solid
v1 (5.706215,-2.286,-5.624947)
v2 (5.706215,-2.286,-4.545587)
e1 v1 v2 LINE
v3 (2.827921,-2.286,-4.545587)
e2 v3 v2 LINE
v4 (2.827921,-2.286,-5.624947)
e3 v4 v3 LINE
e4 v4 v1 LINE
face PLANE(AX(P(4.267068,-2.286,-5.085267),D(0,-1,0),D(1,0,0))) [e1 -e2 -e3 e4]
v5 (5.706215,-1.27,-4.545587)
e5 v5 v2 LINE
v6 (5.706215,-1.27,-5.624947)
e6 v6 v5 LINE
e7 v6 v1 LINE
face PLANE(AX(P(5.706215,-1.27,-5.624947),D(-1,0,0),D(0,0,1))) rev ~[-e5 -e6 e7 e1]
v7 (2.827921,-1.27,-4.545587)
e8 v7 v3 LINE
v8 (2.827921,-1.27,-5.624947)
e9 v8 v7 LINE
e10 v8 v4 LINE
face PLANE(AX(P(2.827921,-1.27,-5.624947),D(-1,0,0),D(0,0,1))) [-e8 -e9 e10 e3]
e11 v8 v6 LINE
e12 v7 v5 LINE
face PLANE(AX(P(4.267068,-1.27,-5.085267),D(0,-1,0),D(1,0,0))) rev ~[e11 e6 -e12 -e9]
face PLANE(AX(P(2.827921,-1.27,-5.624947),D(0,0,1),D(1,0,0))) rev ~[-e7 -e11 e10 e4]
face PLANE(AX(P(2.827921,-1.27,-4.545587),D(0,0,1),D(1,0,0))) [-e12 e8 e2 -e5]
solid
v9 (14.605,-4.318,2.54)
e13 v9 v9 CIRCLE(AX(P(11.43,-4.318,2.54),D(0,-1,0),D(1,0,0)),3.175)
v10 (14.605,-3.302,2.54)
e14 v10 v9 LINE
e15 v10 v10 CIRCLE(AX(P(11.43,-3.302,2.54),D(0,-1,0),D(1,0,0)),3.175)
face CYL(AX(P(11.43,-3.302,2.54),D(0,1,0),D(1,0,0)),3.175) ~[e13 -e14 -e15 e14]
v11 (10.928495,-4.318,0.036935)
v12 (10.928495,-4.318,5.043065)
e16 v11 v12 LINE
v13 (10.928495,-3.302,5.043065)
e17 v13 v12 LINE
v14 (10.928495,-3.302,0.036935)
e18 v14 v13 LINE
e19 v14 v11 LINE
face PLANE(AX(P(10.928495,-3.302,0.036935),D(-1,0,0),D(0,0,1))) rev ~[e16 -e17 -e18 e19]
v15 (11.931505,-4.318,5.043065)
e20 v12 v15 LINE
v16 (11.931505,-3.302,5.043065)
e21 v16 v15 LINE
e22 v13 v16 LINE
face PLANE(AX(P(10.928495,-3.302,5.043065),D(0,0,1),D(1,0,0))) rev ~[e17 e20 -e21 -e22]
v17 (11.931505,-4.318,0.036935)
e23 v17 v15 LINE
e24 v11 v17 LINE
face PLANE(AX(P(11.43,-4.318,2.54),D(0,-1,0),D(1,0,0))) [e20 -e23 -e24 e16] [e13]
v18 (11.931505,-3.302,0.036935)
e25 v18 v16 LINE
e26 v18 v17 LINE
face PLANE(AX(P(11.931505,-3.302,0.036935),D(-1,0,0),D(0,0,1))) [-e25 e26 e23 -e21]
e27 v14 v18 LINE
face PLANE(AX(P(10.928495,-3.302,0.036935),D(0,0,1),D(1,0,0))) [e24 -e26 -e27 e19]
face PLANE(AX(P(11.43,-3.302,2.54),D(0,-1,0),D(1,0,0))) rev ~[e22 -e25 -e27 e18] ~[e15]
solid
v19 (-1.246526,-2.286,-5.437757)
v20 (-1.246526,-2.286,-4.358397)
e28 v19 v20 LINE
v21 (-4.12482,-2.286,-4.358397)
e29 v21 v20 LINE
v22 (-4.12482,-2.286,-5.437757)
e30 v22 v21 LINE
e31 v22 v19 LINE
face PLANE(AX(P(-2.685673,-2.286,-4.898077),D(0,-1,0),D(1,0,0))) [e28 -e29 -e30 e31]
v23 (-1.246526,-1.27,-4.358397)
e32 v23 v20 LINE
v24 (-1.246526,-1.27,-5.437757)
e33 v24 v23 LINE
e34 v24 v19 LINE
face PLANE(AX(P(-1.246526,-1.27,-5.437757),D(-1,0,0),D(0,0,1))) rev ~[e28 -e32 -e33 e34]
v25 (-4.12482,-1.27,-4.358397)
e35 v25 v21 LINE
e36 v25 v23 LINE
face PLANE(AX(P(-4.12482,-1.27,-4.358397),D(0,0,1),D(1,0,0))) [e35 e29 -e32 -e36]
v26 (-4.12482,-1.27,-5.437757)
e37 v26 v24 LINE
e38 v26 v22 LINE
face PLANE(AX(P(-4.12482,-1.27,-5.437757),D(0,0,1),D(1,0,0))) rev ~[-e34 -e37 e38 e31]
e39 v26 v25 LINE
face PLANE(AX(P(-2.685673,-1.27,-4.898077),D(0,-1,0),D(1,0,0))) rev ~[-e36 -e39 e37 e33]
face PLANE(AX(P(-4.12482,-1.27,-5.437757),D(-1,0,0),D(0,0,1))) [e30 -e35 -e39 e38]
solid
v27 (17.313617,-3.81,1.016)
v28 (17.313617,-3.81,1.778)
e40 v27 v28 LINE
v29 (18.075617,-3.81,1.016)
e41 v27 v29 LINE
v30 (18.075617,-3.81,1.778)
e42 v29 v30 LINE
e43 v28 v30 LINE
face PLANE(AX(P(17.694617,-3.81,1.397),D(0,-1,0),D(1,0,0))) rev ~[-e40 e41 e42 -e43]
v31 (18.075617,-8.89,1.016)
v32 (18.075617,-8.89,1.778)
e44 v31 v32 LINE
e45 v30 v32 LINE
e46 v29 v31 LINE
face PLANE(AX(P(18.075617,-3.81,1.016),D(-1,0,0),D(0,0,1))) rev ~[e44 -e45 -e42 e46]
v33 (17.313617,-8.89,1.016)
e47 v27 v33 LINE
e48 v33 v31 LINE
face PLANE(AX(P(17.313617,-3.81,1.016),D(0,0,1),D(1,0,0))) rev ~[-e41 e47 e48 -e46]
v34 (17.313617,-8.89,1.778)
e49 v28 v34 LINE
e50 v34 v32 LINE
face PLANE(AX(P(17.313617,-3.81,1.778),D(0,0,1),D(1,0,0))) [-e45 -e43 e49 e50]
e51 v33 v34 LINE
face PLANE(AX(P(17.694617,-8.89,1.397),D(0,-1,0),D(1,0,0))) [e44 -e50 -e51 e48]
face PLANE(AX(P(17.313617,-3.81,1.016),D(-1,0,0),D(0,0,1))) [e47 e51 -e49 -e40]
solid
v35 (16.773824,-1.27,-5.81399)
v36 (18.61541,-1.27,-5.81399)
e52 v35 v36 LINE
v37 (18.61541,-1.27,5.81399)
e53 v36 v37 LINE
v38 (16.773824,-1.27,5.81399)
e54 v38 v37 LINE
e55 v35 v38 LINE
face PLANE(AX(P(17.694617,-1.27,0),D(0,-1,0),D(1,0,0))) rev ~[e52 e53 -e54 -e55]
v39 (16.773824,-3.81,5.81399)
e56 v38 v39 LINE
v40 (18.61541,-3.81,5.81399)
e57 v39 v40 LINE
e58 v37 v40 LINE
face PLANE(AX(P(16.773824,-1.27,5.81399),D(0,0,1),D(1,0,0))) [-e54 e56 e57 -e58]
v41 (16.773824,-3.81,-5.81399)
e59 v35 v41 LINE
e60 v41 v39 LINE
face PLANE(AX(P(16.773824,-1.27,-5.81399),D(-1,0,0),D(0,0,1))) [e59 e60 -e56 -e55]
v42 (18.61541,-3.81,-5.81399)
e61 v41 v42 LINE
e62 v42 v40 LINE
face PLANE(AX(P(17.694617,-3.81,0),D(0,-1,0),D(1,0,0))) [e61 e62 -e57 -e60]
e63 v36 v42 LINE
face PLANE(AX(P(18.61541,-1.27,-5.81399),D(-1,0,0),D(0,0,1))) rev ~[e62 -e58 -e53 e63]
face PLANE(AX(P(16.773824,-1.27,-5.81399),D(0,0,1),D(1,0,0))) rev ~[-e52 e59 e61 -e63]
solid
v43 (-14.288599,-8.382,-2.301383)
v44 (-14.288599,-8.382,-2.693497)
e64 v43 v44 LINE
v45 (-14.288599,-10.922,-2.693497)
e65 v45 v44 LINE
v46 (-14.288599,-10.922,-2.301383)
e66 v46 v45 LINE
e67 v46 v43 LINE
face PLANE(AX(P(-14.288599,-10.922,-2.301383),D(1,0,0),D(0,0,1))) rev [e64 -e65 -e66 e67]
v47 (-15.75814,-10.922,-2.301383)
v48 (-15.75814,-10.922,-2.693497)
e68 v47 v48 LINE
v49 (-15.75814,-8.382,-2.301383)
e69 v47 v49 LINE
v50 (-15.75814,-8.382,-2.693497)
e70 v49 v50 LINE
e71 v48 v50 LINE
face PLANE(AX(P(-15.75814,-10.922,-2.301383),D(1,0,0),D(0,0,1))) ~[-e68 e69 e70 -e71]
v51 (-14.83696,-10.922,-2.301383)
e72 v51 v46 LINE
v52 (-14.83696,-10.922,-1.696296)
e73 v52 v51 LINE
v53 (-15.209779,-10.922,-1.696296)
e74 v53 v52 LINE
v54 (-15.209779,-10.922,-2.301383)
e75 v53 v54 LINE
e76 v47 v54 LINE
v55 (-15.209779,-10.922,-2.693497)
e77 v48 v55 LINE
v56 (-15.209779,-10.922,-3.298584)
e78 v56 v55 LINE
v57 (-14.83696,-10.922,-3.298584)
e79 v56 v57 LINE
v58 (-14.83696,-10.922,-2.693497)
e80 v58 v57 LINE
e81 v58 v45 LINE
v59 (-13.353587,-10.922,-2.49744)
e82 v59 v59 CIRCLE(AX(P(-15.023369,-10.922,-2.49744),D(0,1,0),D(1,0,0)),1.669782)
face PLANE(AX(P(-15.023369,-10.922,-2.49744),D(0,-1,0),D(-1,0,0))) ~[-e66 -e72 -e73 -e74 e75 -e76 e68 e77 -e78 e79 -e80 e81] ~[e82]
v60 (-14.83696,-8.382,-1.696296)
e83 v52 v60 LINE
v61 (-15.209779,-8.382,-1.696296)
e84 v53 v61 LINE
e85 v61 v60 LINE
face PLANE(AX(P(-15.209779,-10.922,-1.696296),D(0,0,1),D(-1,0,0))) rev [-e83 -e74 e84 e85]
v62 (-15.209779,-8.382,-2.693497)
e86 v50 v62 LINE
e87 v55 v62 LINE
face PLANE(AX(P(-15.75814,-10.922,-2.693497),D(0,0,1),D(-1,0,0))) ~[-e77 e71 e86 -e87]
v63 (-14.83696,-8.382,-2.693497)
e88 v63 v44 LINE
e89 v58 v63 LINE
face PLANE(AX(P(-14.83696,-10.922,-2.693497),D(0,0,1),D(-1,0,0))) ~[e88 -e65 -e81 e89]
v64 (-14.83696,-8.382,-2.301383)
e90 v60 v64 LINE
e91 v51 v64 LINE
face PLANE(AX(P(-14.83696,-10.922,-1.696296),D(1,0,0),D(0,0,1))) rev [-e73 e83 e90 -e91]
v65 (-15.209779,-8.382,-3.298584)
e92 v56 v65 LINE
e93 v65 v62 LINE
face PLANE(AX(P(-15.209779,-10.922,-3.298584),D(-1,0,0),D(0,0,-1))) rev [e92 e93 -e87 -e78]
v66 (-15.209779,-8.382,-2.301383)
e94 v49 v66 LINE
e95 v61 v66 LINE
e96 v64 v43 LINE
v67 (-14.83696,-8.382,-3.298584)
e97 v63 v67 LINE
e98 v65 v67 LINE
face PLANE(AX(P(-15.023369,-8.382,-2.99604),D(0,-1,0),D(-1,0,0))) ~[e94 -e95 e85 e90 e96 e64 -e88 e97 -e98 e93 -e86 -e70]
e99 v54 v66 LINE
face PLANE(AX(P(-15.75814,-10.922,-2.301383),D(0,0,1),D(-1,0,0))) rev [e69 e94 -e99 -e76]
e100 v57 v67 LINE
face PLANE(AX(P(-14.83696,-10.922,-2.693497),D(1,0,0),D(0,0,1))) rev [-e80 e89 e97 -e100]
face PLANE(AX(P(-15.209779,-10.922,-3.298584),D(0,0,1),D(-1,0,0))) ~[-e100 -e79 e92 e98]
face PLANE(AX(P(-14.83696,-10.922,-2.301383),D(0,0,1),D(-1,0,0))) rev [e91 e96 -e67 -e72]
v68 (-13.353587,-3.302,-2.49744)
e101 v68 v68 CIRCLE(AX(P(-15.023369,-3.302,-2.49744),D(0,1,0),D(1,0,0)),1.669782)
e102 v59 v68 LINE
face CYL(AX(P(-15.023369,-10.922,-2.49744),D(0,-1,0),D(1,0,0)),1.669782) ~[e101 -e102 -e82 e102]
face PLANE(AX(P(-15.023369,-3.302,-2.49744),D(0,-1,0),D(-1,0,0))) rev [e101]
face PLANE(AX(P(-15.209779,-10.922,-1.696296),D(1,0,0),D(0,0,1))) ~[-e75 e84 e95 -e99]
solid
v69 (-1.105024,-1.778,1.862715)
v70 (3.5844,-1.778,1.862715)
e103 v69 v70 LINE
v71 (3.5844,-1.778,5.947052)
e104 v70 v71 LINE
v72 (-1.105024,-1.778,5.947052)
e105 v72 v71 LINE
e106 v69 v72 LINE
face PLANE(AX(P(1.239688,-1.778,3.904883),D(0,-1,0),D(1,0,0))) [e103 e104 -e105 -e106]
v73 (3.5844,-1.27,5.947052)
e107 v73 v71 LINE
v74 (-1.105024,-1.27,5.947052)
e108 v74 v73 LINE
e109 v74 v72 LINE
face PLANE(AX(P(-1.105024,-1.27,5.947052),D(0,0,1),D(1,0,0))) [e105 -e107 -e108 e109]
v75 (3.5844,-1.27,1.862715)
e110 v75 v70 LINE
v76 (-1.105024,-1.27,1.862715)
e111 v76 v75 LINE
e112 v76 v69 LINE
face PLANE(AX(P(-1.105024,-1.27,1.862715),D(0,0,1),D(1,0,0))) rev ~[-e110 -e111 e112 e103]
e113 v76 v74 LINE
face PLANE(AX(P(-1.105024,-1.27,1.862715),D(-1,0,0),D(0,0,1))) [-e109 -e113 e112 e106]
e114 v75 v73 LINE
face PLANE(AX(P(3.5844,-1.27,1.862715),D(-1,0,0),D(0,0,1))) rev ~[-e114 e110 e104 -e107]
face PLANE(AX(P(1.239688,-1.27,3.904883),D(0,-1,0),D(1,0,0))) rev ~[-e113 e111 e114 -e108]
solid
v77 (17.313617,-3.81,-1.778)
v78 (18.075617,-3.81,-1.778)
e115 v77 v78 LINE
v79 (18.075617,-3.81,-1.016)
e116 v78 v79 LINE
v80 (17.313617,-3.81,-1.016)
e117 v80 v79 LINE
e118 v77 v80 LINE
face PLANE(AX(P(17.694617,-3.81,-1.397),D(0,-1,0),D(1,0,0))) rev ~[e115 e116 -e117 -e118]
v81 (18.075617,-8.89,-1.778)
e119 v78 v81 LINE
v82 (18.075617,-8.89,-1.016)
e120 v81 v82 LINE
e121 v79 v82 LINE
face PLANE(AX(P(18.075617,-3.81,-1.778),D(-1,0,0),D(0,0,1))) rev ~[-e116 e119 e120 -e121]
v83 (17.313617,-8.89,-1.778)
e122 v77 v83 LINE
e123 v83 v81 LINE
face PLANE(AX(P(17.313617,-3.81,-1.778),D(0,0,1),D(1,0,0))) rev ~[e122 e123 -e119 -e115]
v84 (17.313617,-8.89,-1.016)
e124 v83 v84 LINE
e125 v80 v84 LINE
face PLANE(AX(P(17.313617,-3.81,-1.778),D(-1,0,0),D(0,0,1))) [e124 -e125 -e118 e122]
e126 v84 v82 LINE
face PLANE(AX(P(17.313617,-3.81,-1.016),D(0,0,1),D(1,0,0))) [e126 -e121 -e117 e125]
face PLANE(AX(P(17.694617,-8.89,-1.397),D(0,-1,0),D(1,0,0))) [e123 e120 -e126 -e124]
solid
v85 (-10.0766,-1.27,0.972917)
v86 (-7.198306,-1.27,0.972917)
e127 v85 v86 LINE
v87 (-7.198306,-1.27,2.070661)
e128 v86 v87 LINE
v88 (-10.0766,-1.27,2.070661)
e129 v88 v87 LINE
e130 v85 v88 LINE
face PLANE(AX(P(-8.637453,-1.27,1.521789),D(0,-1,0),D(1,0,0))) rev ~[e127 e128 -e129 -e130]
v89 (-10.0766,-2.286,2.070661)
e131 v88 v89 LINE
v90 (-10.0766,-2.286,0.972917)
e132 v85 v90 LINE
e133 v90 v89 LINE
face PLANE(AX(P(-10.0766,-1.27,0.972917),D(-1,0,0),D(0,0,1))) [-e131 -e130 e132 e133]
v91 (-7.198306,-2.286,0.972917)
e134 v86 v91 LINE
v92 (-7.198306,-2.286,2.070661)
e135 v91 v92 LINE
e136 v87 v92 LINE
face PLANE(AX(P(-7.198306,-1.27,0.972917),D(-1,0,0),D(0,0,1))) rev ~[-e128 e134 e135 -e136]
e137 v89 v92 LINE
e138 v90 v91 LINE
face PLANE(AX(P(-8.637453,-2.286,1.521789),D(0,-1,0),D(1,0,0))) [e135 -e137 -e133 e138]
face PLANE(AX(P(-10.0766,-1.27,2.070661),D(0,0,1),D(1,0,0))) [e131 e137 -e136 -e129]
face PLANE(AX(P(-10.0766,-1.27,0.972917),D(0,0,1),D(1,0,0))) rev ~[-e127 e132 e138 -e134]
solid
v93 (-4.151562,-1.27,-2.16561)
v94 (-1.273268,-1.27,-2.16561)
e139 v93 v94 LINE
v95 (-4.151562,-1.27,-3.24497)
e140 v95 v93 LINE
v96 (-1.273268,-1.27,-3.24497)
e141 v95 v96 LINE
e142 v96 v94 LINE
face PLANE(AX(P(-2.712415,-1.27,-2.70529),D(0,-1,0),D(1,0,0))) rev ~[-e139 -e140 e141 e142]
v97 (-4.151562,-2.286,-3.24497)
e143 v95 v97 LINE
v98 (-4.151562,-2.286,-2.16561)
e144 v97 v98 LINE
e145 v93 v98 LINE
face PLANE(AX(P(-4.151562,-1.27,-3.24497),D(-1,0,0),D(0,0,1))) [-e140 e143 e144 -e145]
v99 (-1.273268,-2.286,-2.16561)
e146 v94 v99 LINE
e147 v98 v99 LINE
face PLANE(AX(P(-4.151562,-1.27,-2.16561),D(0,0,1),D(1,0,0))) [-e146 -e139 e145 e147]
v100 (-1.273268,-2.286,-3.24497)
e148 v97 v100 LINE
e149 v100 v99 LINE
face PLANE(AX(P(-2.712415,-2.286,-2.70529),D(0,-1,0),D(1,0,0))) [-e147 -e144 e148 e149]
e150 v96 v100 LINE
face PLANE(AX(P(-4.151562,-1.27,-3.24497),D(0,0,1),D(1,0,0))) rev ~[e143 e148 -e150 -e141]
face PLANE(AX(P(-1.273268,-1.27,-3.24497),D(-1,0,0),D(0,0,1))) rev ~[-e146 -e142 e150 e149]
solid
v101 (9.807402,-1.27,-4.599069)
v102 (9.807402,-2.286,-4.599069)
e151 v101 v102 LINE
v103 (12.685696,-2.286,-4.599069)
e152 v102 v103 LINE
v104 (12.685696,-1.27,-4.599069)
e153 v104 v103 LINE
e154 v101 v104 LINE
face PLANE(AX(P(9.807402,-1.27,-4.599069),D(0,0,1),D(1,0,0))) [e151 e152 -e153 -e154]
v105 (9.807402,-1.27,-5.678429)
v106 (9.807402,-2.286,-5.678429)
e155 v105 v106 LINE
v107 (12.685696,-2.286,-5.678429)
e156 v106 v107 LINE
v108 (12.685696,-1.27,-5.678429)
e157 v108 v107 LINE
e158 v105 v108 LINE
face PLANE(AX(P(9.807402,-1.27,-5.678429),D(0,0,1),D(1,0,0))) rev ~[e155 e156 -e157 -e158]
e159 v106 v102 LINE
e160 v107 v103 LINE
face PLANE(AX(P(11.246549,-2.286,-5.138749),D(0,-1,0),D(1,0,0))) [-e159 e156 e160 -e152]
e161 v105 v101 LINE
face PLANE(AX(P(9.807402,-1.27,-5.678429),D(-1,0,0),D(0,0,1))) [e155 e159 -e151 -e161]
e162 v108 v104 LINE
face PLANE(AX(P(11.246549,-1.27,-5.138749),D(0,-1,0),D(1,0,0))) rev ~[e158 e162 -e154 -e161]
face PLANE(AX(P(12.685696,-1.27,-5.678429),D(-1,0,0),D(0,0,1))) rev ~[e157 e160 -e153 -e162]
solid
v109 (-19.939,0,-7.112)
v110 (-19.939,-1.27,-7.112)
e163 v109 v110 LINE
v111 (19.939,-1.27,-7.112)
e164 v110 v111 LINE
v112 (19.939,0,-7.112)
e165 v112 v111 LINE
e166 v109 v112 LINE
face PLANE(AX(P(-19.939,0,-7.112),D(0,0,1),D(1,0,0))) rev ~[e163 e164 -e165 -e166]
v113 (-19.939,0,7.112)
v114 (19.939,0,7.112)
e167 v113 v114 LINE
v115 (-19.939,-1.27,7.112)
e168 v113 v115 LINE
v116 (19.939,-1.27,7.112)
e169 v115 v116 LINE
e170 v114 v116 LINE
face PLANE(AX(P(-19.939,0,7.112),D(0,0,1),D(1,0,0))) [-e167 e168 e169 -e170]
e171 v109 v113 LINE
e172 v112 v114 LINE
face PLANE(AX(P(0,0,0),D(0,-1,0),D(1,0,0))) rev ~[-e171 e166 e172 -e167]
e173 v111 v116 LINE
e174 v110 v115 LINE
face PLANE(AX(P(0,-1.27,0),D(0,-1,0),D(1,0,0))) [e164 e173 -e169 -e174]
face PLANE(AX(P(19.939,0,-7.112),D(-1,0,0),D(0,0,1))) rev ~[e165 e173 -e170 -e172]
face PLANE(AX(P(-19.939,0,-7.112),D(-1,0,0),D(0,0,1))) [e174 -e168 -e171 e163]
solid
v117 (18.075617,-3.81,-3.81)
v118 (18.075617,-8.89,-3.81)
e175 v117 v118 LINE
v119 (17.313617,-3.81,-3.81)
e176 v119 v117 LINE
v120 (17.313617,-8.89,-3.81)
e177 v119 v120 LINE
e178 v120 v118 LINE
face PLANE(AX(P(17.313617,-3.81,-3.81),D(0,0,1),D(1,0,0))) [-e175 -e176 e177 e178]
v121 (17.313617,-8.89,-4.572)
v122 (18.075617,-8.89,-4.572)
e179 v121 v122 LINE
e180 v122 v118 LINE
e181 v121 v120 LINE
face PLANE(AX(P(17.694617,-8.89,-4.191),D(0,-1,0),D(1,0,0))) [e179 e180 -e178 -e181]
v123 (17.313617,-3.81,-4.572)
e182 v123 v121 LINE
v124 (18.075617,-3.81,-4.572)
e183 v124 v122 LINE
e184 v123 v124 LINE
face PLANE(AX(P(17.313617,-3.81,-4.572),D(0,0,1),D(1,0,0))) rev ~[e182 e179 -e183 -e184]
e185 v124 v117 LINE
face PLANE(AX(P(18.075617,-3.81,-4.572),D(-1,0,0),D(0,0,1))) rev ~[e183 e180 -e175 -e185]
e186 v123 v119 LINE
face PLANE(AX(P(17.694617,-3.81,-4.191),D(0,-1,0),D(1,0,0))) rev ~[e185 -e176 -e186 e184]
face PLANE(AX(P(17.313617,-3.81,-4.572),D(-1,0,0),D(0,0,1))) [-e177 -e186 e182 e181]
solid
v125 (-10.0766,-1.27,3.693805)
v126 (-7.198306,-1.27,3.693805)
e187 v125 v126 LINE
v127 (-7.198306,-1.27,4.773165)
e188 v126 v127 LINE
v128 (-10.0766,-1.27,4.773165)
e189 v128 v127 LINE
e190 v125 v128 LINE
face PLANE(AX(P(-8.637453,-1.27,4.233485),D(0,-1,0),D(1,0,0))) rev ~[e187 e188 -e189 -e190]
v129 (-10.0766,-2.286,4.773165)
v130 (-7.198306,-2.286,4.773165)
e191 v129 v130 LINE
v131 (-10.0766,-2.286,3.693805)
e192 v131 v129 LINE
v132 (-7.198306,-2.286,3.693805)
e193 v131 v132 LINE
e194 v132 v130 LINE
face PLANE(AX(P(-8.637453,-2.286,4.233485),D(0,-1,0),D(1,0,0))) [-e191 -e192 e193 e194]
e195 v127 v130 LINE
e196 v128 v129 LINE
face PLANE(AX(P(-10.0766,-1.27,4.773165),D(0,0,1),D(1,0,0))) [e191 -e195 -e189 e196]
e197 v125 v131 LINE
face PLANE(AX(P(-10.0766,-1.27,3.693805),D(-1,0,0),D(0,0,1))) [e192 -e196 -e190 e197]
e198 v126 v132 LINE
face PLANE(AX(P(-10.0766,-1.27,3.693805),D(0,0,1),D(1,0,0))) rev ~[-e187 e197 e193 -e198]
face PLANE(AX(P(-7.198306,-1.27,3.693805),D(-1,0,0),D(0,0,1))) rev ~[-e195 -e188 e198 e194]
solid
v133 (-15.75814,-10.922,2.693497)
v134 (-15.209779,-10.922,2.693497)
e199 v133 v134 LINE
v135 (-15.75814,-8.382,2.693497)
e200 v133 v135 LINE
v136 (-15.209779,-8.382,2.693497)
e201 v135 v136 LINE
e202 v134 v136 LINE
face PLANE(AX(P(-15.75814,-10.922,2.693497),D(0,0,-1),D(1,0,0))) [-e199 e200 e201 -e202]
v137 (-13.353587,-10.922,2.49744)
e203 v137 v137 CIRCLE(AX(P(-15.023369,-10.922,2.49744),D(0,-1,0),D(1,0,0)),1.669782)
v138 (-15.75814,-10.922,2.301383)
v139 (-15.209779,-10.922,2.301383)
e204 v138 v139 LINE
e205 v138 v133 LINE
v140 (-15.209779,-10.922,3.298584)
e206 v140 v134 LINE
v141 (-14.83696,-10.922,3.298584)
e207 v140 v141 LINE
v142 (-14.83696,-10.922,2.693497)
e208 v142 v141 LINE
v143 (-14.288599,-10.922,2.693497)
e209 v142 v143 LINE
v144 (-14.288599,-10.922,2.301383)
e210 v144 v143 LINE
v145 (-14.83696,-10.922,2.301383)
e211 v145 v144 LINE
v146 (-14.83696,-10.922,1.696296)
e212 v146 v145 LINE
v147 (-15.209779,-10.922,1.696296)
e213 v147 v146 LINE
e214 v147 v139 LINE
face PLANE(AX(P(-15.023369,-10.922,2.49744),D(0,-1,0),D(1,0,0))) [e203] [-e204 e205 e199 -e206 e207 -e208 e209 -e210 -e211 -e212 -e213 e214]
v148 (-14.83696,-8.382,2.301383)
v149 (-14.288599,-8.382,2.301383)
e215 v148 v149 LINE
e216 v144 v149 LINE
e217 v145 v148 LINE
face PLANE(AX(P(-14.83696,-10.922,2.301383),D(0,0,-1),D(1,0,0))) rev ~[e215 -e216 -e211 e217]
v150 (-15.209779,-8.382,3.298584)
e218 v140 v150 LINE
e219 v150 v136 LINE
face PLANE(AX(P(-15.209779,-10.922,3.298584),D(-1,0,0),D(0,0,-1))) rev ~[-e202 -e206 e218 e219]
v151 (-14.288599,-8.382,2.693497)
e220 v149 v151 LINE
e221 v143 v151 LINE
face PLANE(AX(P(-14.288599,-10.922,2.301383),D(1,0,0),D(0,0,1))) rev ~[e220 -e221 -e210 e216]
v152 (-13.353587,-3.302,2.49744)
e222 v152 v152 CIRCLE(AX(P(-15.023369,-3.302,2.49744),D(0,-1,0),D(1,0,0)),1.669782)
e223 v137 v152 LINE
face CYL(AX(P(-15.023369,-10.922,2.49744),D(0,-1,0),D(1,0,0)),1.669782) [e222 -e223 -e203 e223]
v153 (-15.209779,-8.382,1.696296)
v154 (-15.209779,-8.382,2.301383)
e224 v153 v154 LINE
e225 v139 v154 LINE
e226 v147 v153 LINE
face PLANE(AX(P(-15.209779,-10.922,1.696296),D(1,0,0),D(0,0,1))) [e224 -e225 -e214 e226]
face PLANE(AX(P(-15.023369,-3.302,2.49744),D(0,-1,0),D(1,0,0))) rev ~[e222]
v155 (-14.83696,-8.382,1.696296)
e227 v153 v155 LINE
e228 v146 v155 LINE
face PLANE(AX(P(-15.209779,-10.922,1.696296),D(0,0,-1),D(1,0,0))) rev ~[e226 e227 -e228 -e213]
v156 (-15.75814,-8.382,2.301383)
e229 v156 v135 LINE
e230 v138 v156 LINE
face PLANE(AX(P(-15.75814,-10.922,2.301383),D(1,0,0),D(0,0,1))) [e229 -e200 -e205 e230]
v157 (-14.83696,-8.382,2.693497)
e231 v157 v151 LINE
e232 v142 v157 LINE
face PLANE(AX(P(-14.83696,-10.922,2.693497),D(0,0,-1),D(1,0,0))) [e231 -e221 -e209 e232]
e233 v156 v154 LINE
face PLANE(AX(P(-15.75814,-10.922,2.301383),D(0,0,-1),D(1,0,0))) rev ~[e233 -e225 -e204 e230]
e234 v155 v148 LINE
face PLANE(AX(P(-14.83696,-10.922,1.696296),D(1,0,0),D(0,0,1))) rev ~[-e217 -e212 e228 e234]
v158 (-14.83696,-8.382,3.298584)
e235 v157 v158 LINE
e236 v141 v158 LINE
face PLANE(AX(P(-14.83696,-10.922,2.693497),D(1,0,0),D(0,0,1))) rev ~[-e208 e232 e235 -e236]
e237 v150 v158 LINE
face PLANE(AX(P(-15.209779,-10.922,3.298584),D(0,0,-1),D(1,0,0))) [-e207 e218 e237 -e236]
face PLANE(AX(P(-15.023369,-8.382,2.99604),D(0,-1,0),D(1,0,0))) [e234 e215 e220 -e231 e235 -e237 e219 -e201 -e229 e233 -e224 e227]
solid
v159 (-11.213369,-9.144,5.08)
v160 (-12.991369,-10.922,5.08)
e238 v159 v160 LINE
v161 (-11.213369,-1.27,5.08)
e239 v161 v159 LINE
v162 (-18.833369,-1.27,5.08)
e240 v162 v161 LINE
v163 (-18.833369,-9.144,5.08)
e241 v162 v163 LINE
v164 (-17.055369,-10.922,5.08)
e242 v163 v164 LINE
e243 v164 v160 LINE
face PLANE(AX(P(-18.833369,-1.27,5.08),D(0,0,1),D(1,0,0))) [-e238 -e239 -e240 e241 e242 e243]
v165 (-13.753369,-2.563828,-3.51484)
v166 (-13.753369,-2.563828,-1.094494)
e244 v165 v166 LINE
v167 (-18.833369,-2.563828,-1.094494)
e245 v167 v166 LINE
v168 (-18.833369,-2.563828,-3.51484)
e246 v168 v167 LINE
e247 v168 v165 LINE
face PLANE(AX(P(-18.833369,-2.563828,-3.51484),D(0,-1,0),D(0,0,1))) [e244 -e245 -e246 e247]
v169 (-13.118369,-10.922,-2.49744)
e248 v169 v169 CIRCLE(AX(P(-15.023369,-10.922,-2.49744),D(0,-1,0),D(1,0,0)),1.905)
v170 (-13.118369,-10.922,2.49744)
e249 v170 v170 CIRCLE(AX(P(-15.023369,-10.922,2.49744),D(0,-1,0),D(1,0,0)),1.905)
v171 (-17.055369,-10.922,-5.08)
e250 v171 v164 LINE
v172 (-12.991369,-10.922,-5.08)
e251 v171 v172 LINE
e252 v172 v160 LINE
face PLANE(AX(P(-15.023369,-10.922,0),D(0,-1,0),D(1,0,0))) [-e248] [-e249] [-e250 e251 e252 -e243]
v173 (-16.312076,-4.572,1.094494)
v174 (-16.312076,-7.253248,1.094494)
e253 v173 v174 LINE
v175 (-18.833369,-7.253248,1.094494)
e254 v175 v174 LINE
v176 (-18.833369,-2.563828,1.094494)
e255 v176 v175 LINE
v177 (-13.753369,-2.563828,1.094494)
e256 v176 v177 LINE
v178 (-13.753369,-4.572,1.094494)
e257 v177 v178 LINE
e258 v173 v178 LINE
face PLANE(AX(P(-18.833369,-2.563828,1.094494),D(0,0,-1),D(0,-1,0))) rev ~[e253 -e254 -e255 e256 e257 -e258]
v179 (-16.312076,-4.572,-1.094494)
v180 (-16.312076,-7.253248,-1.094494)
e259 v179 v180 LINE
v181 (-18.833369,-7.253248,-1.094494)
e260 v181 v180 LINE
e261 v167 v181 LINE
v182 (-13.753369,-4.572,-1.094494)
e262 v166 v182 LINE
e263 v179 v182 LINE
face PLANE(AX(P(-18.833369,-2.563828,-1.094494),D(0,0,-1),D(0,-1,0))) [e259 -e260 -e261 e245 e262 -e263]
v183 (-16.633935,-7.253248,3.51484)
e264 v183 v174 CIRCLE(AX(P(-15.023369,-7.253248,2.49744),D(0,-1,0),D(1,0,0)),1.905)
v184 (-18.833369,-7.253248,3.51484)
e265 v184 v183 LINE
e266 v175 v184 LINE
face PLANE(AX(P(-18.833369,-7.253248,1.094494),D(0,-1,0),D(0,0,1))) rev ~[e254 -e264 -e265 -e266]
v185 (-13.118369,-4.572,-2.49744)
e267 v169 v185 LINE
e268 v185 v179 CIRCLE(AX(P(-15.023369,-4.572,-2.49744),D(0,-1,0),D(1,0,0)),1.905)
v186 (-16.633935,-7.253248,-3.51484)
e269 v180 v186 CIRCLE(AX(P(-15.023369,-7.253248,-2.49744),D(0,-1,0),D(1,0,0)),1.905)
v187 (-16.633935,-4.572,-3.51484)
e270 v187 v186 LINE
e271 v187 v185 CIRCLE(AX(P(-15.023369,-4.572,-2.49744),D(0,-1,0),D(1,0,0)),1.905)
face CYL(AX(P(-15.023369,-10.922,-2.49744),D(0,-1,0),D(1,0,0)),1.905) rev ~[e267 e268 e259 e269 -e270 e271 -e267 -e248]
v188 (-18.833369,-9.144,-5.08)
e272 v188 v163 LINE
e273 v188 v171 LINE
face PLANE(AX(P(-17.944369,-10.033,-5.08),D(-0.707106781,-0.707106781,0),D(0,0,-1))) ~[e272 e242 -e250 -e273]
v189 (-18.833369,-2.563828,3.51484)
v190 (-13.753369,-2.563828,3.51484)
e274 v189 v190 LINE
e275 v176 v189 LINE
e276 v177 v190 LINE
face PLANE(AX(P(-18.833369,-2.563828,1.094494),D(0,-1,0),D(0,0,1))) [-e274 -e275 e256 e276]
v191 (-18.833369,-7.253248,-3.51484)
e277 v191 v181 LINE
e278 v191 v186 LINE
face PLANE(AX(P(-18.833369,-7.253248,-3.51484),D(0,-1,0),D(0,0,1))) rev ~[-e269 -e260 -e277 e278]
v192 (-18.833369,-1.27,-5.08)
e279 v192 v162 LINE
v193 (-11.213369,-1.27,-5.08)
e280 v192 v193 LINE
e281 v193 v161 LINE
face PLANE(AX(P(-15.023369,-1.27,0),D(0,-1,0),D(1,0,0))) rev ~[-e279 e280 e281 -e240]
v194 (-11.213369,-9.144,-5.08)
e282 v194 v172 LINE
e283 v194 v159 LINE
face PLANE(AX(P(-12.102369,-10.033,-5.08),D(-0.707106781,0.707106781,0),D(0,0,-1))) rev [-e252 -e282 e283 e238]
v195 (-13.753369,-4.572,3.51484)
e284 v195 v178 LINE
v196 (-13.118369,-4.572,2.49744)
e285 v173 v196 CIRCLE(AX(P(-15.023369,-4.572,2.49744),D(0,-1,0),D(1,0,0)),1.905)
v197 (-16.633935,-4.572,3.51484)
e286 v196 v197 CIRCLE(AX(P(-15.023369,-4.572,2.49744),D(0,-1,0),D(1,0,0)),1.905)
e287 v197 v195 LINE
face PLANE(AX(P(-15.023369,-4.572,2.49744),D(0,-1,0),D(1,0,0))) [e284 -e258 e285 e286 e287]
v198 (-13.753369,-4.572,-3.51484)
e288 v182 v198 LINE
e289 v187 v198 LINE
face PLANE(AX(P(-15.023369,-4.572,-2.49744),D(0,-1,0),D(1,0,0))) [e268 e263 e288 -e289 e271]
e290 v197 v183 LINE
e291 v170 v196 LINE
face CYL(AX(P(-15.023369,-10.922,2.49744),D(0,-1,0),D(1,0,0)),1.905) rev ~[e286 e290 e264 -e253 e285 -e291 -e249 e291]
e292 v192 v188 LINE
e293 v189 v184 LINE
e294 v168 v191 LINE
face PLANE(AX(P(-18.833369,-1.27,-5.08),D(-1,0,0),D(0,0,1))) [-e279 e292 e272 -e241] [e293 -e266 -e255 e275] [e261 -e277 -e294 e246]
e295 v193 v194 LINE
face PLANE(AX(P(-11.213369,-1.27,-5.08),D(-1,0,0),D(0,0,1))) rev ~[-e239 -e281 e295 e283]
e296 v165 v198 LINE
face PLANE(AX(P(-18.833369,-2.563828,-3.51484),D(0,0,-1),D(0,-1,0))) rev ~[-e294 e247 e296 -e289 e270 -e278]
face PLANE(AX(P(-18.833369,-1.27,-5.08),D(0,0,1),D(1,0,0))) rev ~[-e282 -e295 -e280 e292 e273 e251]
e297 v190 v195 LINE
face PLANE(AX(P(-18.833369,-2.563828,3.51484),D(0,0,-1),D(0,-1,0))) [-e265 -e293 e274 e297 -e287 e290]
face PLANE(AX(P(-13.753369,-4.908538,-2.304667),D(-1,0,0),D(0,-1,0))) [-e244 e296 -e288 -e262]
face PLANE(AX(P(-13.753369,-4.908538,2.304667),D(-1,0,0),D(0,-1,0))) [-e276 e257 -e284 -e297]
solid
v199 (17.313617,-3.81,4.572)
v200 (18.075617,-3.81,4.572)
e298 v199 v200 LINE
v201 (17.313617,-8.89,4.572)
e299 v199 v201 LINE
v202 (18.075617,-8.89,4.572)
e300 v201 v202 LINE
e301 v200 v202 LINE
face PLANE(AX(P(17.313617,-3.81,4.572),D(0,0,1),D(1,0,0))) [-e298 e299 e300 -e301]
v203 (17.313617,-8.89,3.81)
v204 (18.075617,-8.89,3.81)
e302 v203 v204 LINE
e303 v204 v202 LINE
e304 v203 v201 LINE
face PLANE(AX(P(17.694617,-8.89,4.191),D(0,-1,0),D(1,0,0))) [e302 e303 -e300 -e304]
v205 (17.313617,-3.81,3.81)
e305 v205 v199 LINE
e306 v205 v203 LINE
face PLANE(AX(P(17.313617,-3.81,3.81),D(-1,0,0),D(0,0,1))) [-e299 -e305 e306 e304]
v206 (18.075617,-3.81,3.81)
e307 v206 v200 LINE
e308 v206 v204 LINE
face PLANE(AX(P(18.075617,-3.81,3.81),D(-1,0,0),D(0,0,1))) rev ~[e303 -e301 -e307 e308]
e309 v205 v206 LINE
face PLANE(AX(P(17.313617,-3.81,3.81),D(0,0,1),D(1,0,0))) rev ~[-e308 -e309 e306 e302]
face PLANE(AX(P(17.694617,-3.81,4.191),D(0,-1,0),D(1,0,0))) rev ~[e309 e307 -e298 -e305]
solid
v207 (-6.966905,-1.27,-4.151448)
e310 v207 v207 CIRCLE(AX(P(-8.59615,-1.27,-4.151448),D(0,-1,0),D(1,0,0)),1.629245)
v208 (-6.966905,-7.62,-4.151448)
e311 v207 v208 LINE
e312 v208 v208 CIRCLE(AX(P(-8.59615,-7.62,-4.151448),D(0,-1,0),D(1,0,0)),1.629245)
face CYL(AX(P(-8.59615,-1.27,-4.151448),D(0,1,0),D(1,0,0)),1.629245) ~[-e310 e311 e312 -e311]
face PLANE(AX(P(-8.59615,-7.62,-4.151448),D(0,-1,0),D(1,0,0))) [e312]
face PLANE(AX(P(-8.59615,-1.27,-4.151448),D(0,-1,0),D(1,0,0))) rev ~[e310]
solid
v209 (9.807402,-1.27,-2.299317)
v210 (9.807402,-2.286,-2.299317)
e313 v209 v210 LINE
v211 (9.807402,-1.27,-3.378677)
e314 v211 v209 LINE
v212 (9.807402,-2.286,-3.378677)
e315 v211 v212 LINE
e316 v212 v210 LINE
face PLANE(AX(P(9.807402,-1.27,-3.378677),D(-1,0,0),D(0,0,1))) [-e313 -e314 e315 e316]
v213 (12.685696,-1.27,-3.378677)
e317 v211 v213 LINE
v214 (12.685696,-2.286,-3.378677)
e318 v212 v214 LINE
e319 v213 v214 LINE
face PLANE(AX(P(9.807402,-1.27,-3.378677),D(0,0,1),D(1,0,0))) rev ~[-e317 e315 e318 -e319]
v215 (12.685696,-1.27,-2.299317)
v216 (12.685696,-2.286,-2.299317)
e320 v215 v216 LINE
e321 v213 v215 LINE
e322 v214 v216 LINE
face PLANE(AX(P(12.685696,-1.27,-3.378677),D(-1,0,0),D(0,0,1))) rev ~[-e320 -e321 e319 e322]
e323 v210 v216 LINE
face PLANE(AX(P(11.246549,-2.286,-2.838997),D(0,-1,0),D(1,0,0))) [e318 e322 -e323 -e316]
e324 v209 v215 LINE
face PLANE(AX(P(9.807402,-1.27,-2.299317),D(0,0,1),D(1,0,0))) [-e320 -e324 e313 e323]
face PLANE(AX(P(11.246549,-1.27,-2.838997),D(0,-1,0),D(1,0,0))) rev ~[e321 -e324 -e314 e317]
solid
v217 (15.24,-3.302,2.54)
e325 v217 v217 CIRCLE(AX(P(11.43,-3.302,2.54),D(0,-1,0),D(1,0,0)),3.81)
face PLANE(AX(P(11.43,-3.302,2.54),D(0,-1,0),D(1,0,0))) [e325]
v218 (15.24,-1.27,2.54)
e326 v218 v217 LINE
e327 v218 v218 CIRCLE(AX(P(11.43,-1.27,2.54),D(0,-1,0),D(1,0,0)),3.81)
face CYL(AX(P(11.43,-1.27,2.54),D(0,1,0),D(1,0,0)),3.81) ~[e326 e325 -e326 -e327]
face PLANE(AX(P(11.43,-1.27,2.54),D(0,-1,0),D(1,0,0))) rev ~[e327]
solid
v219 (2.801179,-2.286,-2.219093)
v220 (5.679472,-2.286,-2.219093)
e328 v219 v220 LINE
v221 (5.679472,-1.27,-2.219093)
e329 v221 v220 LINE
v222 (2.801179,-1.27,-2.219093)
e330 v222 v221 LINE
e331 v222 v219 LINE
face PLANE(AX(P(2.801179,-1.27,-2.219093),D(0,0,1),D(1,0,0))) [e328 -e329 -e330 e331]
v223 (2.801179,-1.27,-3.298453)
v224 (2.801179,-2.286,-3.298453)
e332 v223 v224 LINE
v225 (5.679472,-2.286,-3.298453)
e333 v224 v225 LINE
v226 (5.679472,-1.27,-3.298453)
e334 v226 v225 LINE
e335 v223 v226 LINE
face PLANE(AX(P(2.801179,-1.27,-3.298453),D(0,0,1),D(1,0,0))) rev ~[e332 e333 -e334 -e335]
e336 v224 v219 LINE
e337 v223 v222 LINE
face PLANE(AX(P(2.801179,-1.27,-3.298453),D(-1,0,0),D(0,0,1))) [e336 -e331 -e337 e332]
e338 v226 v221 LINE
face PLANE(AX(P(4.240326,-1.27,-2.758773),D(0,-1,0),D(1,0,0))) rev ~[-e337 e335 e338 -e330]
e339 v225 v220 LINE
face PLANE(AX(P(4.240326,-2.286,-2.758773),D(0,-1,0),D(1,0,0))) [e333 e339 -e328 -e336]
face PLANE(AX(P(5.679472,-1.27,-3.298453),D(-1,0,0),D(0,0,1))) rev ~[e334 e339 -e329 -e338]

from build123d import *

# Parameters (mm, degrees)
F0_W      = 39.878
F0_H      = 14.224
F1_DEPTH  = 1.27
F2_W      = 7.62
F2_H      = 10.16
F3_DEPTH  = 9.652
F4_SIZE   = 1.778
F5_R      = 1.905
F6_DEPTH  = 6.35
F7_W      = 4.6894205734
F7_H      = 2.4203467183
F8_DEPTH  = 5.08
F9_R      = 1.6697821783
F10_DEPTH = 7.62
F11_W     = 0.3728192511
F11_H     = 0.6050870288
F11_W_2   = 0.5483608693
F11_H_2   = 0.3921133466
F12_DEPTH = 2.54
F14_W     = 1.8415860832
F14_H     = 11.6279795766
F15_DEPTH = 2.54
F16_W     = 0.762
F16_H     = 0.762
F17_DEPTH = 5.08
F18_R     = 1.6292454542
F19_DEPTH = 6.35
F20_W     = 4.6894233674
F20_H     = 4.0843365714
F21_DEPTH = 0.508
F22_R     = 3.81
F23_DEPTH = 2.032
F24_R     = 3.175
F24_W     = 1.0030101985
F24_H     = 5.0061298534
F25_DEPTH = 1.016
F26_W     = 2.878293395
F26_H     = 1.0793600231
F27_DEPTH = 1.016
F26_H_2   = 1.0977436526


with BuildPart() as f1:
    # F0 (on Front) → F1 (new body)
    with BuildSketch(Plane.XZ):
        Rectangle(F0_W, F0_H)
    extrude(amount=F1_DEPTH)


with BuildPart() as f3:
    # F2 (on face) → F3 (new body)
    with BuildSketch(Plane.XZ.offset(1.27)):
        with Locations((-15.0233691664, 0)):
            Rectangle(F2_W, F2_H)
    extrude(amount=F3_DEPTH)

    # F4
    f4_edges = [f3.edges().sort_by_distance(p)[0] for p in [
        (-18.833369, -10.922, 0),
        (-11.213369, -10.922, 0),
    ]]
    chamfer(f4_edges, length=F4_SIZE)

    # F5 (on face) → F6 (cut)
    with BuildSketch(Plane.XZ.offset(10.922)):
        with Locations((-15.0233691664, 2.4974399712)):
            Circle(F5_R)
        with Locations((-15.0233691664, -2.4974399712)):
            Circle(F5_R)
    extrude(amount=-F6_DEPTH, mode=Mode.SUBTRACT)

    # F7 (on face) → F8 (cut)
    with BuildSketch(Plane(origin=(-18.8333691664, 0, 0), x_dir=(0, -1, 0), z_dir=(-1, 0, 0))):
        with Locations((4.9085379578, 2.3046669085)):
            Rectangle(F7_W, F7_H)
        with Locations((4.9085379578, -2.3046669085)):
            Rectangle(F7_W, F7_H)
    extrude(amount=-F8_DEPTH, mode=Mode.SUBTRACT)


with BuildPart() as f10:
    # F9 (on face) → F10 (new body)
    with BuildSketch(Plane.XZ.offset(10.922)):
        with Locations((-15.0233691664, 2.4974399712)):
            Circle(F9_R)
    extrude(amount=-F10_DEPTH)

    # F11 (on face) → F12 (cut)
    with BuildSketch(Plane.XZ.offset(10.922)):
        with Locations((-15.0233691664, 2.9960401589)):
            Rectangle(F11_W, F11_H)
        with Locations((-14.5627791062, 2.4974399712)):
            Rectangle(F11_W_2, F11_H_2)
        with Locations((-15.0233691664, 2.4974399712)):
            Rectangle(F11_W, F11_H_2)
        with Locations((-15.4839592266, 2.4974399712)):
            Rectangle(F11_W_2, F11_H_2)
        with Locations((-15.0233691664, 1.9988397835)):
            Rectangle(F11_W, F11_H)
    extrude(amount=-F12_DEPTH, mode=Mode.SUBTRACT)


with BuildPart() as f13_1:
    # F13: instance of F10
    add(f10.part.mirror(Plane.XY))


with BuildPart() as f15:
    # F14 (on face) → F15 (new body)
    with BuildSketch(Plane.XZ.offset(1.27)):
        with Locations((17.6946166903, 0)):
            Rectangle(F14_W, F14_H)
    extrude(amount=F15_DEPTH)


with BuildPart() as f17:
    # F16 (on face) → F17 (new body)
    with BuildSketch(Plane.XZ.offset(3.81)):
        with Locations((17.6946166903, -1.397)):
            Rectangle(F16_W, F16_H)
    extrude(amount=F17_DEPTH)


with BuildPart() as f17b:
    # F16 (on face) → F17, piece 2 (new body)
    with BuildSketch(Plane.XZ.offset(3.81)):
        with Locations((17.6946166903, -4.191)):
            Rectangle(F16_W, F16_H)
    extrude(amount=F17_DEPTH)


with BuildPart() as f17c:
    # F16 (on face) → F17, piece 3 (new body)
    with BuildSketch(Plane.XZ.offset(3.81)):
        with Locations((17.6946166903, 1.397)):
            Rectangle(F16_W, F16_H)
    extrude(amount=F17_DEPTH)


with BuildPart() as f17d:
    # F16 (on face) → F17, piece 4 (new body)
    with BuildSketch(Plane.XZ.offset(3.81)):
        with Locations((17.6946166903, 4.191)):
            Rectangle(F16_W, F16_H)
    extrude(amount=F17_DEPTH)


with BuildPart() as f19:
    # F18 (on face) → F19 (new body)
    with BuildSketch(Plane.XZ.offset(1.27)):
        with Locations((-8.5961502045, -4.1514476761)):
            Circle(F18_R)
    extrude(amount=F19_DEPTH)


with BuildPart() as f21:
    # F20 (on face) → F21 (new body)
    with BuildSketch(Plane.XZ.offset(1.27)):
        with Locations((1.2396881357, 3.9048832841)):
            Rectangle(F20_W, F20_H)
    extrude(amount=F21_DEPTH)


with BuildPart() as f23:
    # F22 (on face) → F23 (new body)
    with BuildSketch(Plane.XZ.offset(1.27)):
        with Locations((11.43, 2.54)):
            Circle(F22_R)
    extrude(amount=F23_DEPTH)


with BuildPart() as f25:
    # F24 (on face) → F25 (new body)
    with BuildSketch(Plane.XZ.offset(3.302)):
        with Locations((11.43, 2.54)):
            Circle(F24_R)
        with Locations((11.43, 2.54)):
            Rectangle(F24_W, F24_H, mode=Mode.SUBTRACT)
    extrude(amount=F25_DEPTH)


with BuildPart() as f27:
    # F26 (on face) → F27 (new body)
    with BuildSketch(Plane.XZ.offset(1.27)):
        with Locations((-8.6374529637, 4.2334846221)):
            Rectangle(F26_W, F26_H)
    extrude(amount=F27_DEPTH)


with BuildPart() as f27b:
    # F26 (on face) → F27, piece 2 (new body)
    with BuildSketch(Plane.XZ.offset(1.27)):
        with Locations((-8.6374529637, 1.5217887805)):
            Rectangle(F26_W, F26_H_2)
    extrude(amount=F27_DEPTH)


with BuildPart() as f27c:
    # F26 (on face) → F27, piece 3 (new body)
    with BuildSketch(Plane.XZ.offset(1.27)):
        with Locations((-2.7124148328, -2.7052904479)):
            Rectangle(F26_W, F26_H)
    extrude(amount=F27_DEPTH)


with BuildPart() as f27d:
    # F26 (on face) → F27, piece 4 (new body)
    with BuildSketch(Plane.XZ.offset(1.27)):
        with Locations((-2.6856730692, -4.8980773427)):
            Rectangle(F26_W, F26_H)
    extrude(amount=F27_DEPTH)


with BuildPart() as f27e:
    # F26 (on face) → F27, piece 5 (new body)
    with BuildSketch(Plane.XZ.offset(1.27)):
        with Locations((4.2403256521, -2.7587728109)):
            Rectangle(F26_W, F26_H)
    extrude(amount=F27_DEPTH)


with BuildPart() as f27f:
    # F26 (on face) → F27, piece 6 (new body)
    with BuildSketch(Plane.XZ.offset(1.27)):
        with Locations((4.2670681141, -5.0852666609)):
            Rectangle(F26_W, F26_H)
    extrude(amount=F27_DEPTH)


with BuildPart() as f27g:
    # F26 (on face) → F27, piece 7 (new body)
    with BuildSketch(Plane.XZ.offset(1.27)):
        with Locations((11.2465489656, -2.8389971703)):
            Rectangle(F26_W, F26_H)
    extrude(amount=F27_DEPTH)


with BuildPart() as f27h:
    # F26 (on face) → F27, piece 8 (new body)
    with BuildSketch(Plane.XZ.offset(1.27)):
        with Locations((11.2465489656, -5.1387492567)):
            Rectangle(F26_W, F26_H)
    extrude(amount=F27_DEPTH)


solid = Compound([f1.part, f3.part, f10.part, f13_1.part, f15.part, f17.part, f17b.part, f17c.part, f17d.part, f19.part, f21.part, f23.part, f25.part, f27.part, f27b.part, f27c.part, f27d.part, f27e.part, f27f.part, f27g.part, f27h.part])
